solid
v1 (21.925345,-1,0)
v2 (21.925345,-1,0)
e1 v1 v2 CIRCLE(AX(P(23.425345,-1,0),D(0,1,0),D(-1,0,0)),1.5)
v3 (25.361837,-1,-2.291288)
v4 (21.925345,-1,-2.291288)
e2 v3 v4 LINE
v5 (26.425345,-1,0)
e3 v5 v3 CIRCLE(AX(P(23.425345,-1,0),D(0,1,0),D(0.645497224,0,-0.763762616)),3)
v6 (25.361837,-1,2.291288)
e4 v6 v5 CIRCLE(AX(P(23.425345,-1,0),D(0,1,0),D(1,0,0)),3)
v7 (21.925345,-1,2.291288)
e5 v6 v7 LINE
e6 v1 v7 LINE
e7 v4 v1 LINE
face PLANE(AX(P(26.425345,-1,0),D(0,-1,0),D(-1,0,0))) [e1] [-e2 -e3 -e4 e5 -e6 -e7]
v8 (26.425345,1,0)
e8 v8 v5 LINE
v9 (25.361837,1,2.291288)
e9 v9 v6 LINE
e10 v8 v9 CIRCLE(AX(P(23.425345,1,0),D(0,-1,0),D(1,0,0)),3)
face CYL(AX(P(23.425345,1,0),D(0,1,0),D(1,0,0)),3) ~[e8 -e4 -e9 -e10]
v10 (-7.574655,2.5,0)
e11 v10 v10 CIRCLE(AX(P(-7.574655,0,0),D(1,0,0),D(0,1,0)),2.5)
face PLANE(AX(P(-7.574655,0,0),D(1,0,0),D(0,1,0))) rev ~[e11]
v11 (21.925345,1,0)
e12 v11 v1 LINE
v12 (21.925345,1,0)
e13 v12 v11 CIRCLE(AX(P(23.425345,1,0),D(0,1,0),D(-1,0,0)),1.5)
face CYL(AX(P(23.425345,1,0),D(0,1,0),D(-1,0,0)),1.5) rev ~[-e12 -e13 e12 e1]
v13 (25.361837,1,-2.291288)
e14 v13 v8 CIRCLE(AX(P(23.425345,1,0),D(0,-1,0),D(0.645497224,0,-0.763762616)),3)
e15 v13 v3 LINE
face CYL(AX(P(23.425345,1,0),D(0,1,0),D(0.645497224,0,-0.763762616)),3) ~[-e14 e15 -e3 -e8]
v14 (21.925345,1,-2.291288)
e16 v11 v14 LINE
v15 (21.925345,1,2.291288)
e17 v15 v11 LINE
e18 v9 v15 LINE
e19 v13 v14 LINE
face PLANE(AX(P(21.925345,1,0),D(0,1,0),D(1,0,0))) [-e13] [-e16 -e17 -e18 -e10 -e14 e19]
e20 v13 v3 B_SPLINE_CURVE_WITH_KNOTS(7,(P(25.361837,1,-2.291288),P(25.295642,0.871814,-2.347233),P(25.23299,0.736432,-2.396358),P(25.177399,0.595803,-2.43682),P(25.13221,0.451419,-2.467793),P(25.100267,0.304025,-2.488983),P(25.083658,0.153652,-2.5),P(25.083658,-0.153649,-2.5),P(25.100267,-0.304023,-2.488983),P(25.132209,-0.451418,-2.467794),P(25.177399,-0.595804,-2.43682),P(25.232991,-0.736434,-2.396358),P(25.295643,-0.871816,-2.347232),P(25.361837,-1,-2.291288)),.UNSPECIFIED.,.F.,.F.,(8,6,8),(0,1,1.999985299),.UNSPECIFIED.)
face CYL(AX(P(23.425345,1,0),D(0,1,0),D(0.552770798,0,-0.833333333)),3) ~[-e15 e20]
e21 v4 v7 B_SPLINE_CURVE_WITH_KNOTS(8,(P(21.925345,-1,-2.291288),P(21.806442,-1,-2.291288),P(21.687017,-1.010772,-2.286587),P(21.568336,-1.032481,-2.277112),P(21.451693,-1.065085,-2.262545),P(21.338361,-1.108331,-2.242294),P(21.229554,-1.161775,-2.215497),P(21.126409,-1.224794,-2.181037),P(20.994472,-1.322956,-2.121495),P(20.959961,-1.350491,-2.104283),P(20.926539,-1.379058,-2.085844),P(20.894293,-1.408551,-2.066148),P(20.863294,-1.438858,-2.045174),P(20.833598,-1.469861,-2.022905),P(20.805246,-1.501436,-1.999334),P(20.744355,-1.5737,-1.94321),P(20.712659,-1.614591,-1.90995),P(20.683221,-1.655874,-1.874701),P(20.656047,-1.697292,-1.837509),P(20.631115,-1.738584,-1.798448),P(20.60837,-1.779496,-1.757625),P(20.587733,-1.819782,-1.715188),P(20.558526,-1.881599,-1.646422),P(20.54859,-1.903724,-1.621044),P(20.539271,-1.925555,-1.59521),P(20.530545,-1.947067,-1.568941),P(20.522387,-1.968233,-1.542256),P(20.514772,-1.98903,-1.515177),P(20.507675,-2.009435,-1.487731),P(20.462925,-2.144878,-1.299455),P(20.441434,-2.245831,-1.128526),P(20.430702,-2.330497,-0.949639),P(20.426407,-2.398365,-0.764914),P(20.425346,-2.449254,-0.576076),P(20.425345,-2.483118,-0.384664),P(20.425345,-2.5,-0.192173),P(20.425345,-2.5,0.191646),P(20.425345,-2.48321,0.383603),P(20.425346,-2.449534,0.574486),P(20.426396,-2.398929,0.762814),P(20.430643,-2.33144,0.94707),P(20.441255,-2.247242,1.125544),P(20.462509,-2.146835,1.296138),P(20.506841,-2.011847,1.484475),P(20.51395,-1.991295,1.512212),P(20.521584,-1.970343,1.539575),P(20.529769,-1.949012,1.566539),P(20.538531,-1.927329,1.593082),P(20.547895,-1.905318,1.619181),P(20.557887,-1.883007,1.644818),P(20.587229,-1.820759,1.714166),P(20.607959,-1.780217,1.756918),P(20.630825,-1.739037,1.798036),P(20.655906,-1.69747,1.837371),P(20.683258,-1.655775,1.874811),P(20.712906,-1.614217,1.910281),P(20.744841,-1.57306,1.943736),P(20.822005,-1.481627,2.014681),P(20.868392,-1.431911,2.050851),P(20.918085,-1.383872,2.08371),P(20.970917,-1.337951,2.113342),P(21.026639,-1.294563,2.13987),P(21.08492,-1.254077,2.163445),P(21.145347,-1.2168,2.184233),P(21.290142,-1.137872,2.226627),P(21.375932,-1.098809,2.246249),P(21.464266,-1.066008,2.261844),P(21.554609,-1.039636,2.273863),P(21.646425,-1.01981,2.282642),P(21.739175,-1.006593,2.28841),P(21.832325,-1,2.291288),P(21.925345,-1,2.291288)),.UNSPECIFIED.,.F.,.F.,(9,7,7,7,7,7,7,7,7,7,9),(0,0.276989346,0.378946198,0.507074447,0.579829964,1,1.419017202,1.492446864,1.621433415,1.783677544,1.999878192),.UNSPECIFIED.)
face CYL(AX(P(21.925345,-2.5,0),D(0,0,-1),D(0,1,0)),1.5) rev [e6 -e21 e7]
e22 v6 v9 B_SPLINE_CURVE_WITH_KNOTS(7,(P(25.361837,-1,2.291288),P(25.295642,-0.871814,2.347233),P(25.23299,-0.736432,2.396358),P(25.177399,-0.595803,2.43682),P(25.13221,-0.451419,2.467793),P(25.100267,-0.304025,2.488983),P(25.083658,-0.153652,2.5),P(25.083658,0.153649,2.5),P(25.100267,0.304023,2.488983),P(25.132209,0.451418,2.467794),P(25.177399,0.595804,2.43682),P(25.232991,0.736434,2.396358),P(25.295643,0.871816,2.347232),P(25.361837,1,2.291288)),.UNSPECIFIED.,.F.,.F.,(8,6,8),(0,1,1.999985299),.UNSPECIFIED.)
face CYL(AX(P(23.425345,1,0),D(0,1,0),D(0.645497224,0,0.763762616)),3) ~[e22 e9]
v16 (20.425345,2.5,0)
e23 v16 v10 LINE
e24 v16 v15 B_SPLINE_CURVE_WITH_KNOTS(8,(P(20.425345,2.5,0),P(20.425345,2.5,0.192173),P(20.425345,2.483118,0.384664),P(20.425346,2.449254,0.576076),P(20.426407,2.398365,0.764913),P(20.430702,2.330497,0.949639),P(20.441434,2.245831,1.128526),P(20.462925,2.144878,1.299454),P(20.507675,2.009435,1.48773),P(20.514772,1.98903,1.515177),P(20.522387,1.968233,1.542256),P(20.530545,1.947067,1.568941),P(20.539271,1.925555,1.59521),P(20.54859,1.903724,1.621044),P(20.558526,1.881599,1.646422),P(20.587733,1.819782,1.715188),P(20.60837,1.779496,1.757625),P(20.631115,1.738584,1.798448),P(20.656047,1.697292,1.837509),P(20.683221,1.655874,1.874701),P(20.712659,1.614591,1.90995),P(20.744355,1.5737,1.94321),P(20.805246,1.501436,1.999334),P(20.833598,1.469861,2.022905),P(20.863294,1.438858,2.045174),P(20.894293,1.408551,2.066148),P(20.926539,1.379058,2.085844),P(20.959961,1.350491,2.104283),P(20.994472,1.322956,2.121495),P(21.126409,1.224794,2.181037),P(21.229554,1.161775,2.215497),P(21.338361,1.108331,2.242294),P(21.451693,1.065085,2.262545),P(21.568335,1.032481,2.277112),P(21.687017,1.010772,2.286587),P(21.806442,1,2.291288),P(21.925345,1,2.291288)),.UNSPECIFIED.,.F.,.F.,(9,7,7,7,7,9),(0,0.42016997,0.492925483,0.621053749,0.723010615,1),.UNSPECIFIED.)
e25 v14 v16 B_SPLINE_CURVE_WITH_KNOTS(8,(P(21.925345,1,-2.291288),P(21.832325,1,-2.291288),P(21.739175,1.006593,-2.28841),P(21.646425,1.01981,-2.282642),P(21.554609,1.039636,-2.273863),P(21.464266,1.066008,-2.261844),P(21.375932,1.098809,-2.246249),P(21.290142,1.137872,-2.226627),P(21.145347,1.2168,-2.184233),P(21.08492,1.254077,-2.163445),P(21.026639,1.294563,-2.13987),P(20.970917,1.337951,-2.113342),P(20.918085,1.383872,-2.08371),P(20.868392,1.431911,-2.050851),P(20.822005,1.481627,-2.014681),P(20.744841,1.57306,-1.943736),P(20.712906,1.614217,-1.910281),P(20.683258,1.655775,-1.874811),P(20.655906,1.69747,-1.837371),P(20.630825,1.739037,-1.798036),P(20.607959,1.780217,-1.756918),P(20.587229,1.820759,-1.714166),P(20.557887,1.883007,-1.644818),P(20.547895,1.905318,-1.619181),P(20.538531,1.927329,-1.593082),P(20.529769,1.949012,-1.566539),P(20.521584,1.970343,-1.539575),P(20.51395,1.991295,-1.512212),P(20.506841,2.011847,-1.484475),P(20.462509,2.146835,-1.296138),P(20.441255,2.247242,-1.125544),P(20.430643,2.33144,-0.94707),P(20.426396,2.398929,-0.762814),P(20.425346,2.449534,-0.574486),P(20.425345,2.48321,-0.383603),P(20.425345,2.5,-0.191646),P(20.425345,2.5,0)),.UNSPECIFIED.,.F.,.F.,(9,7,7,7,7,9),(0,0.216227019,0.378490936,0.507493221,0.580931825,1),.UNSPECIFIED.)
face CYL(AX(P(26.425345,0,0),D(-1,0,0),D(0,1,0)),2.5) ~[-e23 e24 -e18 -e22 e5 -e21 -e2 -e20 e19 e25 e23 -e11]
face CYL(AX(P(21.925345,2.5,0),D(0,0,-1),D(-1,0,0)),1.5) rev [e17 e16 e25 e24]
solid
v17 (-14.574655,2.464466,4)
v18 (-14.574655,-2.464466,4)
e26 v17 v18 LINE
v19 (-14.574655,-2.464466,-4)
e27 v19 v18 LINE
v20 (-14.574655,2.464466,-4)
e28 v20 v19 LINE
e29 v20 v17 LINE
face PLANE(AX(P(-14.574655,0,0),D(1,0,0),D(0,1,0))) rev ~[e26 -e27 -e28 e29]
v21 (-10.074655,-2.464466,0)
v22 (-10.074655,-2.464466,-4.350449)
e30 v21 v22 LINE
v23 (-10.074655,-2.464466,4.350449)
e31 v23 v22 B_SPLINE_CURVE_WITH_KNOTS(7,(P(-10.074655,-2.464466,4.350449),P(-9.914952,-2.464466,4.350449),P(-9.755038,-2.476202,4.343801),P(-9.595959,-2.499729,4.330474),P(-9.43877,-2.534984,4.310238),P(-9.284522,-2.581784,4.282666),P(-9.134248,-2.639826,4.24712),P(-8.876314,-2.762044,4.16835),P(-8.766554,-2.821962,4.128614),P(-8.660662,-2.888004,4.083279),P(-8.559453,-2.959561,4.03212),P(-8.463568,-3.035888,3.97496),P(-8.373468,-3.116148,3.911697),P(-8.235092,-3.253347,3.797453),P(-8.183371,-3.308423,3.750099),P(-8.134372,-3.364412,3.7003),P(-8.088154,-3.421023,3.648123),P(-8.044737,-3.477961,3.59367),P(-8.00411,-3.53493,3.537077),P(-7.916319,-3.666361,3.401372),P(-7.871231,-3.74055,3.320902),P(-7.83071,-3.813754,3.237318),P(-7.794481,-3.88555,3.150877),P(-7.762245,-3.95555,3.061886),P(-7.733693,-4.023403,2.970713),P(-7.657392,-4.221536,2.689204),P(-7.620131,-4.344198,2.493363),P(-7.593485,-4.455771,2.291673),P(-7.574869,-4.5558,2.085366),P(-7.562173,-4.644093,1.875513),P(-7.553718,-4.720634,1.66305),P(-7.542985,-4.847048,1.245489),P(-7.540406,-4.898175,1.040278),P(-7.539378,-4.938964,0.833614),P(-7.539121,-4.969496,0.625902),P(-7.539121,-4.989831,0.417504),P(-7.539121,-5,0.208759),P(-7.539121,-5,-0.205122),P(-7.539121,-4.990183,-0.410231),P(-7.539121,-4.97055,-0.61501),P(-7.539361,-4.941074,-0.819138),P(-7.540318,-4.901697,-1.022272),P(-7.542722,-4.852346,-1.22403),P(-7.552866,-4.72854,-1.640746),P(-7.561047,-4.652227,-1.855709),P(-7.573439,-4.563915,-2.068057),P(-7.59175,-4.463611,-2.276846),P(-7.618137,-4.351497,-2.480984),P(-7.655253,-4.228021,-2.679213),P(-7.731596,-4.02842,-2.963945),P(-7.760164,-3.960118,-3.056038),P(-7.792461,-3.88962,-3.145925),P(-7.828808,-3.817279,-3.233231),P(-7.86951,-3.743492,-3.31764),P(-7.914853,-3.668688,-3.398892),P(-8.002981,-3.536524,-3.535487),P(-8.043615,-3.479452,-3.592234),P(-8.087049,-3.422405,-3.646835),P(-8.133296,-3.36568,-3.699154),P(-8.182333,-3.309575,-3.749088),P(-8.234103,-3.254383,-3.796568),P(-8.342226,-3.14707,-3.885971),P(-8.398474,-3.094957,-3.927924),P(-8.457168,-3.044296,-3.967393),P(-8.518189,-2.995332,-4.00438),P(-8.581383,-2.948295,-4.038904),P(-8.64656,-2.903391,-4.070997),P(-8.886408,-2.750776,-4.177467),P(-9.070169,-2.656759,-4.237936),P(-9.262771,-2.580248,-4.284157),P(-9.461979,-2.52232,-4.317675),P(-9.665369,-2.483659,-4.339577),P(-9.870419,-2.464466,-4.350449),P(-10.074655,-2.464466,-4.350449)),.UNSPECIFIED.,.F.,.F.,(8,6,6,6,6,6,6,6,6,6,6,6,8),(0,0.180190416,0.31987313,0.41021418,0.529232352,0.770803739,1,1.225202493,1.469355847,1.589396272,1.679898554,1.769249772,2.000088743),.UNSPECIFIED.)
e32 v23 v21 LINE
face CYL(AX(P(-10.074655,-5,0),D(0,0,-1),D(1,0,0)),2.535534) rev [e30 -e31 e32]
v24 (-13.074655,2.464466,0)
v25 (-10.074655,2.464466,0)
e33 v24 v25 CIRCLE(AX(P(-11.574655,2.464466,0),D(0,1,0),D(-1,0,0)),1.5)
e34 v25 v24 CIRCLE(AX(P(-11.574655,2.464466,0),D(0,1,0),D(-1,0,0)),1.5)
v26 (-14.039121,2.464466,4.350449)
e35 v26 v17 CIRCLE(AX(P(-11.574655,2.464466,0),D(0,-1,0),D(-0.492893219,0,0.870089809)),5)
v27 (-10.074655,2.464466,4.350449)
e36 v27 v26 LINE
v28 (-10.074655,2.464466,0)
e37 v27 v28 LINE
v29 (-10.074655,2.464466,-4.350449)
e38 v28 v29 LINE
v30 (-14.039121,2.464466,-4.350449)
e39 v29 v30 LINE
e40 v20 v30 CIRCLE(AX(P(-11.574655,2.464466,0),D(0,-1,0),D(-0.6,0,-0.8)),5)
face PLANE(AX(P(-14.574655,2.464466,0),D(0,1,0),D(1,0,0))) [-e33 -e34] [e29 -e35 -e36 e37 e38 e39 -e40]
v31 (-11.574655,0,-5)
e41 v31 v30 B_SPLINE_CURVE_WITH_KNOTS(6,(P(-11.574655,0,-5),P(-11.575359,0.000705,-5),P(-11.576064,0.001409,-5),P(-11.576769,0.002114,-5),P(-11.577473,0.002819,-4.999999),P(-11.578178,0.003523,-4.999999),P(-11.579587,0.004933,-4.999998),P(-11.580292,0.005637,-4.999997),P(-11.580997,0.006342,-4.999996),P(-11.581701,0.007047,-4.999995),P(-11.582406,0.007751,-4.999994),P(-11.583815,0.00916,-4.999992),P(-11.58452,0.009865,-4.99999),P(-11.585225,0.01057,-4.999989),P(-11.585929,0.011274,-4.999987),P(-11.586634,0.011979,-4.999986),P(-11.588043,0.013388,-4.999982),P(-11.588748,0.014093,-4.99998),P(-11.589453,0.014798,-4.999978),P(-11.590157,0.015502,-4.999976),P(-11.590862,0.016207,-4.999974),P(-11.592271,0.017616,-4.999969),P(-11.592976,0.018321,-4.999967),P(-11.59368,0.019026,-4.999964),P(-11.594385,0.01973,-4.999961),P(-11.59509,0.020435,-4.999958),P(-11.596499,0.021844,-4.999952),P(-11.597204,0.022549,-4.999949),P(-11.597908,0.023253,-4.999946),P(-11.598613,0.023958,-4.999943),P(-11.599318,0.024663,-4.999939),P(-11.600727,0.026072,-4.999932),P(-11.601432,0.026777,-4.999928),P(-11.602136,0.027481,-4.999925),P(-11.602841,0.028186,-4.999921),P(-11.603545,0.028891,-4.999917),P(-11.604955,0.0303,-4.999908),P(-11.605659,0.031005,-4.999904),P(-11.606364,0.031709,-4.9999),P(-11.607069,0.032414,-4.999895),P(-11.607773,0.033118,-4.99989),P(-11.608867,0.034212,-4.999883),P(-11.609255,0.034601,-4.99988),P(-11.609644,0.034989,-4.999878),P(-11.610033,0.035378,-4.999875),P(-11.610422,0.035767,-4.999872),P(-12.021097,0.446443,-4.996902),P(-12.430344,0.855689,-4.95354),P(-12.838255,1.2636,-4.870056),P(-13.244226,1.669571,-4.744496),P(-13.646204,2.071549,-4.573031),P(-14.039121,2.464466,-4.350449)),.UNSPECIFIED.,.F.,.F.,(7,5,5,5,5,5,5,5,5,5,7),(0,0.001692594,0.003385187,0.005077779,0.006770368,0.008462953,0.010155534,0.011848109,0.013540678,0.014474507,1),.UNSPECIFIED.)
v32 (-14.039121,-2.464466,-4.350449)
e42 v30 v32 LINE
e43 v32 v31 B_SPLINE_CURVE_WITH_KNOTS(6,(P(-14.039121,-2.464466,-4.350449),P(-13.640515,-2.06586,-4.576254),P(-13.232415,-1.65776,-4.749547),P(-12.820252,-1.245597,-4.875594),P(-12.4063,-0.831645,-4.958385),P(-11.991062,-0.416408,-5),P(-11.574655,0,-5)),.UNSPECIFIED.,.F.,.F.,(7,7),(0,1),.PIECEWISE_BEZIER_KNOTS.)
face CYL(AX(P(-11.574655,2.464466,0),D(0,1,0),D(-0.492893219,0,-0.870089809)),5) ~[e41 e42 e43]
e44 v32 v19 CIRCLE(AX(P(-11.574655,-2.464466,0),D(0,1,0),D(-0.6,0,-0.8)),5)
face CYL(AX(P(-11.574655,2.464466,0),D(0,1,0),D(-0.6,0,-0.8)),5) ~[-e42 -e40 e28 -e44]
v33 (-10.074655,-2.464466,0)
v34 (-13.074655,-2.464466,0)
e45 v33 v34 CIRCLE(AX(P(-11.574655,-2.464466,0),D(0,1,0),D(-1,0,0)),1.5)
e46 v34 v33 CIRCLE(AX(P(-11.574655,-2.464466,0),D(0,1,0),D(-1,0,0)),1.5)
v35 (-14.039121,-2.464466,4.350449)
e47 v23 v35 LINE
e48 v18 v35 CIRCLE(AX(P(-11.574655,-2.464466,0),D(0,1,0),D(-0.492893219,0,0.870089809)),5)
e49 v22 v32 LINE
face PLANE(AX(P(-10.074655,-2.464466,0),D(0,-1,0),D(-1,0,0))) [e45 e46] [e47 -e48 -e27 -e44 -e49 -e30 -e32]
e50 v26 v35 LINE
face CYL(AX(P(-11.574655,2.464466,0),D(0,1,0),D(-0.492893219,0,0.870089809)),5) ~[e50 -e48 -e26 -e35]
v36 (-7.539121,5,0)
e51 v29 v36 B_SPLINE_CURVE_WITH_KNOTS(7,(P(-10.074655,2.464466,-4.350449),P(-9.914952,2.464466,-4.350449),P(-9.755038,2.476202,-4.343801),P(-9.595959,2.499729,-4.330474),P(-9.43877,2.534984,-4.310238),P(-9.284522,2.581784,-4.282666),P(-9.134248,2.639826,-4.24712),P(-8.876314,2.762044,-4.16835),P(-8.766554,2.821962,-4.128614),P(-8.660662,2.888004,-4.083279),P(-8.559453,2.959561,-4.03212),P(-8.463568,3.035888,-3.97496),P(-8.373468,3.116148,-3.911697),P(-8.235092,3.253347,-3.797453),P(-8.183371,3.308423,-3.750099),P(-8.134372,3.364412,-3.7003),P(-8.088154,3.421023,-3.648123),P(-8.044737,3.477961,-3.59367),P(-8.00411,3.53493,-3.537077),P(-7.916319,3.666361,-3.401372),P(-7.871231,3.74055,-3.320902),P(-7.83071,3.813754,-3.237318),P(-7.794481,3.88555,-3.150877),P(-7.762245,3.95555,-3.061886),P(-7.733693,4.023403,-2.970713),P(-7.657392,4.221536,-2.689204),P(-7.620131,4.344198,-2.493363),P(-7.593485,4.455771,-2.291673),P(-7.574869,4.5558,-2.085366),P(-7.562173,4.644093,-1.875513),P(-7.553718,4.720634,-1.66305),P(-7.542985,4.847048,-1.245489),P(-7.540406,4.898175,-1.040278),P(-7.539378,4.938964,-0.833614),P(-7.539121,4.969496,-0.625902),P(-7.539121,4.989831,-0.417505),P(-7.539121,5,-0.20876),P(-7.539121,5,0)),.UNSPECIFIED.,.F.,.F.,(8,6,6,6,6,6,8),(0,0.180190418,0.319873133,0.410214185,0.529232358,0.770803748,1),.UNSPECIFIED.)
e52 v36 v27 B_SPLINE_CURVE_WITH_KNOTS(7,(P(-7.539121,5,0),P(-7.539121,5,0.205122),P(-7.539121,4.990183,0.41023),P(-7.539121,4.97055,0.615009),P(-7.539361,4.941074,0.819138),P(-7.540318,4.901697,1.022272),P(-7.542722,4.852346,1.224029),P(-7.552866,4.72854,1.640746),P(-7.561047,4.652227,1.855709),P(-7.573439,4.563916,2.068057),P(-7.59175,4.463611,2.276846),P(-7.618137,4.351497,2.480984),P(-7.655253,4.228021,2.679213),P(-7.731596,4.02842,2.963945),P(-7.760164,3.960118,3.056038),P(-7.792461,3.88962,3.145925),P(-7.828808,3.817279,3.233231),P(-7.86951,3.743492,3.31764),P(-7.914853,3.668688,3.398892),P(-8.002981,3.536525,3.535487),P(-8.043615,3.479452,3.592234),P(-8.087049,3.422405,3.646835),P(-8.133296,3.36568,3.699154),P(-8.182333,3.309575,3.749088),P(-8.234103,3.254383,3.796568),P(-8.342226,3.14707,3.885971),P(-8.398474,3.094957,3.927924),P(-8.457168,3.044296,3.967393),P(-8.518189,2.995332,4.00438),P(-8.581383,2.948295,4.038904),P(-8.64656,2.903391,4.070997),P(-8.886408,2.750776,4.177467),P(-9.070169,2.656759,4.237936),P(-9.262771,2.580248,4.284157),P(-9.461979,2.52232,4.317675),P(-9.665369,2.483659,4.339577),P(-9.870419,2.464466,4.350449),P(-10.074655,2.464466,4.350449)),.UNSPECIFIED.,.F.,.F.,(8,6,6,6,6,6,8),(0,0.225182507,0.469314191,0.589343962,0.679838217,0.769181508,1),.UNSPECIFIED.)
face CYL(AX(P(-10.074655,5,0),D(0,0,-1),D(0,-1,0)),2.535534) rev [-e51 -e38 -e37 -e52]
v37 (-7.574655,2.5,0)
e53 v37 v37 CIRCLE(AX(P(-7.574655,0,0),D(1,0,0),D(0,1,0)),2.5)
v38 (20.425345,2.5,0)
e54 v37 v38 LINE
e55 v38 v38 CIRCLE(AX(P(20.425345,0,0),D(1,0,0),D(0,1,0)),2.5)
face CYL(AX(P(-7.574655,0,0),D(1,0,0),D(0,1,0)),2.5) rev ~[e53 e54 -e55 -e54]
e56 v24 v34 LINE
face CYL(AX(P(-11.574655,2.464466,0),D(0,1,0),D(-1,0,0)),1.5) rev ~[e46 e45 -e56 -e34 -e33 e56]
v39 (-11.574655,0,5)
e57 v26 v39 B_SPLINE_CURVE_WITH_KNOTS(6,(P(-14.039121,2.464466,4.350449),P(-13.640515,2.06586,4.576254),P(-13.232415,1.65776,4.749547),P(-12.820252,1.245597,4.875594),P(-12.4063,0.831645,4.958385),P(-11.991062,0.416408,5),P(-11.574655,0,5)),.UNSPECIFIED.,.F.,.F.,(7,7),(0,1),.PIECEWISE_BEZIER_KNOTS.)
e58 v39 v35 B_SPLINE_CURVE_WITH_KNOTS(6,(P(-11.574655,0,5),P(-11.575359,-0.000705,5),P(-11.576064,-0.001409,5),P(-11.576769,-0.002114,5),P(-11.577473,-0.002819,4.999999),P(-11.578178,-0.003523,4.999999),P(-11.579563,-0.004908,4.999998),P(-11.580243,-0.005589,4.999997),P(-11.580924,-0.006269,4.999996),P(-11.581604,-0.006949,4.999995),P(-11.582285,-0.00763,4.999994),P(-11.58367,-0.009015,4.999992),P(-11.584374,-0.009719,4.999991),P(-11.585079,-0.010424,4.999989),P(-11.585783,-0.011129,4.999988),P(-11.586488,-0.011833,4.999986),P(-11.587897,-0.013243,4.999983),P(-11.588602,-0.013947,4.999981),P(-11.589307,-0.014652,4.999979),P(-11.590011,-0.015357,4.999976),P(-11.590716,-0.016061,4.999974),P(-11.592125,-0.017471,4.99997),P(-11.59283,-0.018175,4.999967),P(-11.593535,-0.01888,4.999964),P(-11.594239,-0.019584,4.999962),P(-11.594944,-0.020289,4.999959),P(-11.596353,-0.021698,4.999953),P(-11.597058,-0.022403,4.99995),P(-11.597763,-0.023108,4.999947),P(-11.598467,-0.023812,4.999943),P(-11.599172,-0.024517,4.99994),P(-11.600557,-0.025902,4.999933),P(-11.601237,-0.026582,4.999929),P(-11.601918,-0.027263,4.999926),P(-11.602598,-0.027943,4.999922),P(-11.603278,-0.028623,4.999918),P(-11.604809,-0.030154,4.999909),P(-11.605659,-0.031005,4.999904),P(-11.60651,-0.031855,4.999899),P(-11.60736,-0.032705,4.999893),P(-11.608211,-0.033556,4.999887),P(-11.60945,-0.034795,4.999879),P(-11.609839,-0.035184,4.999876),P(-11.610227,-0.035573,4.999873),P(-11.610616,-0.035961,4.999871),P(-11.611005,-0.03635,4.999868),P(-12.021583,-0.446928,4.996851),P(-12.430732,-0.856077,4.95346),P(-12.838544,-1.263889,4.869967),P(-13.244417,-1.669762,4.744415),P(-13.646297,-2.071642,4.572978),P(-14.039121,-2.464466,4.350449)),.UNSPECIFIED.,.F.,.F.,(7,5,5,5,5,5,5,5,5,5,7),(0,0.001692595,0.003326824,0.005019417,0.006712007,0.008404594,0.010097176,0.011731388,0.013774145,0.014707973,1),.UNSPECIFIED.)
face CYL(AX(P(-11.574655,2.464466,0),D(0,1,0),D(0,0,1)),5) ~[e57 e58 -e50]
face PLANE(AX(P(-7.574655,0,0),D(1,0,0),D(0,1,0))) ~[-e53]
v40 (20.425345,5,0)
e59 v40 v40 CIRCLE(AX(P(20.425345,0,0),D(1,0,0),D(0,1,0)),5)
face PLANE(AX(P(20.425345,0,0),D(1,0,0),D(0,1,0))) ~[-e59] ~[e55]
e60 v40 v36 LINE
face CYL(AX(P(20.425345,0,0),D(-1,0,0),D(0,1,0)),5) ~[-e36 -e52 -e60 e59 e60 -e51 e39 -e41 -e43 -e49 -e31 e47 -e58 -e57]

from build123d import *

# Parameters (mm, degrees)
F4_DEPTH      = 5.001
F4_DEPTH_BACK = 5.001
F5_R          = 1.5
F6_DEPTH      = 6.0010001
F8_DEPTH      = 7.4654661941


with BuildPart() as f1:
    # F0 (on Top) → F1 (revolve)
    with BuildSketch(Plane.XY):
        Polygon((20.4253451601, 2.5), (-7.5746548399, 2.5), (-7.5746548399, 0), (26.4253451601, 0), (26.4253451601, 2.5), align=None)
    revolve(axis=Axis((-0.3558665388, 0, 0), (1, 0, 0)))


with BuildPart() as f2:
    # F0 (on Top) → F2 (revolve)
    with BuildSketch(Plane.XY):
        Polygon((-7.5746548399, 0), (-7.5746548399, 2.5), (20.4253451601, 2.5), (20.4253451601, 5), (-14.5746548399, 5), (-14.5746548399, 0), align=None)
    revolve(axis=Axis((-0.3558665388, 0, 0), (1, 0, 0)))


with BuildPart() as f4_tool:
    # F3 (on Top) → F4 (new body, two sides)
    with BuildSketch(Plane.XY) as f4_sk:
        with BuildLine():
            Line((-10.0746548399, -2.4644660941), (-14.5746548399, -2.4644660941))
            Line((-14.5746548399, -2.4644660941), (-14.5746548399, -5))
            Line((-14.5746548399, -5), (-7.539120934, -5))
            ThreePointArc((-7.539120934, -5), (-8.2817616211, -3.2071067812), (-10.0746548399, -2.4644660941))
        make_face()
        with BuildLine():
            Line((-7.539120934, 5), (-14.5746548399, 5))
            Line((-14.5746548399, 5), (-14.5746548399, 2.4644660941))
            Line((-14.5746548399, 2.4644660941), (-10.0746548399, 2.4644660941))
            ThreePointArc((-10.0746548399, 2.4644660941), (-8.2817616211, 3.2071067812), (-7.539120934, 5))
        make_face()
        with BuildLine():
            Line((26.4253451601, -2.5), (26.4253451601, -1))
            Line((26.4253451601, -1), (21.9253451601, -1))
            ThreePointArc((21.9253451601, -1), (20.8646849883, -1.4393398282), (20.4253451601, -2.5))
            Line((20.4253451601, -2.5), (26.4253451601, -2.5))
        make_face()
        with BuildLine():
            Line((21.9253451601, 1), (26.4253451601, 1))
            Line((26.4253451601, 1), (26.4253451601, 2.5))
            Line((26.4253451601, 2.5), (20.4253451601, 2.5))
            ThreePointArc((20.4253451601, 2.5), (20.8646849883, 1.4393398282), (21.9253451601, 1))
        make_face()
    extrude(amount=-F4_DEPTH)
    extrude(f4_sk.sketch, amount=F4_DEPTH_BACK)


with BuildPart() as f1_1:
    add(f1.part)

    # F4: cut by f4_tool
    add(f4_tool.part, mode=Mode.SUBTRACT)

    # F5 (on face) → F6 (cut, through all)
    with BuildSketch(Plane(origin=(0, 1, 0), x_dir=(-1, 0, 0), z_dir=(0, 1, 0))):
        with BuildLine():
            ThreePointArc((-26.4253451601, 0), (-26.1465098941, 1.2630370107), (-25.3618368332, 2.2912878475))
            Line((-25.3618368332, 2.2912878475), (-26.4253451601, 2.2912878475))
            Line((-26.4253451601, 2.2912878475), (-26.4253451601, 0))
        make_face()
        with BuildLine():
            Line((-26.4253451601, 2.2912878475), (-25.3618368332, 2.2912878475))
            ThreePointArc((-25.3618368332, 2.2912878475), (-25.2257740709, 2.399678257), (-25.0836575552, 2.5))
            Line((-25.0836575552, 2.5), (-26.4253451601, 2.5))
            Line((-26.4253451601, 2.5), (-26.4253451601, 2.2912878475))
        make_face()
        with BuildLine():
            Line((-26.4253451601, -2.2912878475), (-25.3618368332, -2.2912878475))
            ThreePointArc((-25.3618368332, -2.2912878475), (-26.1465098941, -1.2630370107), (-26.4253451601, 0))
            Line((-26.4253451601, 0), (-26.4253451601, -2.2912878475))
        make_face()
        with BuildLine():
            ThreePointArc((-25.0836575552, -2.5), (-25.2257740709, -2.399678257), (-25.3618368332, -2.2912878475))
            Line((-25.3618368332, -2.2912878475), (-26.4253451601, -2.2912878475))
            Line((-26.4253451601, -2.2912878475), (-26.4253451601, -2.5))
            Line((-26.4253451601, -2.5), (-25.0836575552, -2.5))
        make_face()
        with Locations((-23.4253451601, 0)):
            Circle(F5_R)
    extrude(amount=-F6_DEPTH, mode=Mode.SUBTRACT)


with BuildPart() as f2_1:
    add(f2.part)

    # F4: cut by f4_tool
    add(f4_tool.part, mode=Mode.SUBTRACT)

    # F7 (on face) → F8 (cut, through all)
    with BuildSketch(Plane(origin=(0, 2.4644660941, 0), x_dir=(-1, 0, 0), z_dir=(0, 1, 0))):
        with BuildLine():
            ThreePointArc((14.5746548399, -4), (14.3125009014, -4.1838019724), (14.039120934, -4.3504490425))
            Line((14.039120934, -4.3504490425), (14.5746548399, -4.3504490425))
            Line((14.5746548399, -4.3504490425), (14.5746548399, -4))
        make_face()
        with BuildLine():
            Line((14.5746548399, -4.3504490425), (14.039120934, -4.3504490425))
            ThreePointArc((14.039120934, -4.3504490425), (12.8489693199, -4.8348859972), (11.5746548399, -5))
            Line((11.5746548399, -5), (14.5746548399, -5))
            Line((14.5746548399, -5), (14.5746548399, -4.3504490425))
        make_face()
        with BuildLine():
            Line((14.5746548399, 4.3504490425), (14.039120934, 4.3504490425))
            ThreePointArc((14.039120934, 4.3504490425), (14.3125009014, 4.1838019724), (14.5746548399, 4))
            Line((14.5746548399, 4), (14.5746548399, 4.3504490425))
        make_face()
        with BuildLine():
            ThreePointArc((11.5746548399, 5), (12.8489693199, 4.8348859972), (14.039120934, 4.3504490425))
            Line((14.039120934, 4.3504490425), (14.5746548399, 4.3504490425))
            Line((14.5746548399, 4.3504490425), (14.5746548399, 5))
            Line((14.5746548399, 5), (11.5746548399, 5))
        make_face()
        with BuildLine():
            ThreePointArc((10.0746548399, 0), (11.5746548399, -1.5), (13.0746548399, 0))
            ThreePointArc((13.0746548399, 0), (11.5746548399, 1.5), (10.0746548399, 0))
        make_face()
    extrude(amount=-F8_DEPTH, mode=Mode.SUBTRACT)


solid = Compound([f1_1.part, f2_1.part])
